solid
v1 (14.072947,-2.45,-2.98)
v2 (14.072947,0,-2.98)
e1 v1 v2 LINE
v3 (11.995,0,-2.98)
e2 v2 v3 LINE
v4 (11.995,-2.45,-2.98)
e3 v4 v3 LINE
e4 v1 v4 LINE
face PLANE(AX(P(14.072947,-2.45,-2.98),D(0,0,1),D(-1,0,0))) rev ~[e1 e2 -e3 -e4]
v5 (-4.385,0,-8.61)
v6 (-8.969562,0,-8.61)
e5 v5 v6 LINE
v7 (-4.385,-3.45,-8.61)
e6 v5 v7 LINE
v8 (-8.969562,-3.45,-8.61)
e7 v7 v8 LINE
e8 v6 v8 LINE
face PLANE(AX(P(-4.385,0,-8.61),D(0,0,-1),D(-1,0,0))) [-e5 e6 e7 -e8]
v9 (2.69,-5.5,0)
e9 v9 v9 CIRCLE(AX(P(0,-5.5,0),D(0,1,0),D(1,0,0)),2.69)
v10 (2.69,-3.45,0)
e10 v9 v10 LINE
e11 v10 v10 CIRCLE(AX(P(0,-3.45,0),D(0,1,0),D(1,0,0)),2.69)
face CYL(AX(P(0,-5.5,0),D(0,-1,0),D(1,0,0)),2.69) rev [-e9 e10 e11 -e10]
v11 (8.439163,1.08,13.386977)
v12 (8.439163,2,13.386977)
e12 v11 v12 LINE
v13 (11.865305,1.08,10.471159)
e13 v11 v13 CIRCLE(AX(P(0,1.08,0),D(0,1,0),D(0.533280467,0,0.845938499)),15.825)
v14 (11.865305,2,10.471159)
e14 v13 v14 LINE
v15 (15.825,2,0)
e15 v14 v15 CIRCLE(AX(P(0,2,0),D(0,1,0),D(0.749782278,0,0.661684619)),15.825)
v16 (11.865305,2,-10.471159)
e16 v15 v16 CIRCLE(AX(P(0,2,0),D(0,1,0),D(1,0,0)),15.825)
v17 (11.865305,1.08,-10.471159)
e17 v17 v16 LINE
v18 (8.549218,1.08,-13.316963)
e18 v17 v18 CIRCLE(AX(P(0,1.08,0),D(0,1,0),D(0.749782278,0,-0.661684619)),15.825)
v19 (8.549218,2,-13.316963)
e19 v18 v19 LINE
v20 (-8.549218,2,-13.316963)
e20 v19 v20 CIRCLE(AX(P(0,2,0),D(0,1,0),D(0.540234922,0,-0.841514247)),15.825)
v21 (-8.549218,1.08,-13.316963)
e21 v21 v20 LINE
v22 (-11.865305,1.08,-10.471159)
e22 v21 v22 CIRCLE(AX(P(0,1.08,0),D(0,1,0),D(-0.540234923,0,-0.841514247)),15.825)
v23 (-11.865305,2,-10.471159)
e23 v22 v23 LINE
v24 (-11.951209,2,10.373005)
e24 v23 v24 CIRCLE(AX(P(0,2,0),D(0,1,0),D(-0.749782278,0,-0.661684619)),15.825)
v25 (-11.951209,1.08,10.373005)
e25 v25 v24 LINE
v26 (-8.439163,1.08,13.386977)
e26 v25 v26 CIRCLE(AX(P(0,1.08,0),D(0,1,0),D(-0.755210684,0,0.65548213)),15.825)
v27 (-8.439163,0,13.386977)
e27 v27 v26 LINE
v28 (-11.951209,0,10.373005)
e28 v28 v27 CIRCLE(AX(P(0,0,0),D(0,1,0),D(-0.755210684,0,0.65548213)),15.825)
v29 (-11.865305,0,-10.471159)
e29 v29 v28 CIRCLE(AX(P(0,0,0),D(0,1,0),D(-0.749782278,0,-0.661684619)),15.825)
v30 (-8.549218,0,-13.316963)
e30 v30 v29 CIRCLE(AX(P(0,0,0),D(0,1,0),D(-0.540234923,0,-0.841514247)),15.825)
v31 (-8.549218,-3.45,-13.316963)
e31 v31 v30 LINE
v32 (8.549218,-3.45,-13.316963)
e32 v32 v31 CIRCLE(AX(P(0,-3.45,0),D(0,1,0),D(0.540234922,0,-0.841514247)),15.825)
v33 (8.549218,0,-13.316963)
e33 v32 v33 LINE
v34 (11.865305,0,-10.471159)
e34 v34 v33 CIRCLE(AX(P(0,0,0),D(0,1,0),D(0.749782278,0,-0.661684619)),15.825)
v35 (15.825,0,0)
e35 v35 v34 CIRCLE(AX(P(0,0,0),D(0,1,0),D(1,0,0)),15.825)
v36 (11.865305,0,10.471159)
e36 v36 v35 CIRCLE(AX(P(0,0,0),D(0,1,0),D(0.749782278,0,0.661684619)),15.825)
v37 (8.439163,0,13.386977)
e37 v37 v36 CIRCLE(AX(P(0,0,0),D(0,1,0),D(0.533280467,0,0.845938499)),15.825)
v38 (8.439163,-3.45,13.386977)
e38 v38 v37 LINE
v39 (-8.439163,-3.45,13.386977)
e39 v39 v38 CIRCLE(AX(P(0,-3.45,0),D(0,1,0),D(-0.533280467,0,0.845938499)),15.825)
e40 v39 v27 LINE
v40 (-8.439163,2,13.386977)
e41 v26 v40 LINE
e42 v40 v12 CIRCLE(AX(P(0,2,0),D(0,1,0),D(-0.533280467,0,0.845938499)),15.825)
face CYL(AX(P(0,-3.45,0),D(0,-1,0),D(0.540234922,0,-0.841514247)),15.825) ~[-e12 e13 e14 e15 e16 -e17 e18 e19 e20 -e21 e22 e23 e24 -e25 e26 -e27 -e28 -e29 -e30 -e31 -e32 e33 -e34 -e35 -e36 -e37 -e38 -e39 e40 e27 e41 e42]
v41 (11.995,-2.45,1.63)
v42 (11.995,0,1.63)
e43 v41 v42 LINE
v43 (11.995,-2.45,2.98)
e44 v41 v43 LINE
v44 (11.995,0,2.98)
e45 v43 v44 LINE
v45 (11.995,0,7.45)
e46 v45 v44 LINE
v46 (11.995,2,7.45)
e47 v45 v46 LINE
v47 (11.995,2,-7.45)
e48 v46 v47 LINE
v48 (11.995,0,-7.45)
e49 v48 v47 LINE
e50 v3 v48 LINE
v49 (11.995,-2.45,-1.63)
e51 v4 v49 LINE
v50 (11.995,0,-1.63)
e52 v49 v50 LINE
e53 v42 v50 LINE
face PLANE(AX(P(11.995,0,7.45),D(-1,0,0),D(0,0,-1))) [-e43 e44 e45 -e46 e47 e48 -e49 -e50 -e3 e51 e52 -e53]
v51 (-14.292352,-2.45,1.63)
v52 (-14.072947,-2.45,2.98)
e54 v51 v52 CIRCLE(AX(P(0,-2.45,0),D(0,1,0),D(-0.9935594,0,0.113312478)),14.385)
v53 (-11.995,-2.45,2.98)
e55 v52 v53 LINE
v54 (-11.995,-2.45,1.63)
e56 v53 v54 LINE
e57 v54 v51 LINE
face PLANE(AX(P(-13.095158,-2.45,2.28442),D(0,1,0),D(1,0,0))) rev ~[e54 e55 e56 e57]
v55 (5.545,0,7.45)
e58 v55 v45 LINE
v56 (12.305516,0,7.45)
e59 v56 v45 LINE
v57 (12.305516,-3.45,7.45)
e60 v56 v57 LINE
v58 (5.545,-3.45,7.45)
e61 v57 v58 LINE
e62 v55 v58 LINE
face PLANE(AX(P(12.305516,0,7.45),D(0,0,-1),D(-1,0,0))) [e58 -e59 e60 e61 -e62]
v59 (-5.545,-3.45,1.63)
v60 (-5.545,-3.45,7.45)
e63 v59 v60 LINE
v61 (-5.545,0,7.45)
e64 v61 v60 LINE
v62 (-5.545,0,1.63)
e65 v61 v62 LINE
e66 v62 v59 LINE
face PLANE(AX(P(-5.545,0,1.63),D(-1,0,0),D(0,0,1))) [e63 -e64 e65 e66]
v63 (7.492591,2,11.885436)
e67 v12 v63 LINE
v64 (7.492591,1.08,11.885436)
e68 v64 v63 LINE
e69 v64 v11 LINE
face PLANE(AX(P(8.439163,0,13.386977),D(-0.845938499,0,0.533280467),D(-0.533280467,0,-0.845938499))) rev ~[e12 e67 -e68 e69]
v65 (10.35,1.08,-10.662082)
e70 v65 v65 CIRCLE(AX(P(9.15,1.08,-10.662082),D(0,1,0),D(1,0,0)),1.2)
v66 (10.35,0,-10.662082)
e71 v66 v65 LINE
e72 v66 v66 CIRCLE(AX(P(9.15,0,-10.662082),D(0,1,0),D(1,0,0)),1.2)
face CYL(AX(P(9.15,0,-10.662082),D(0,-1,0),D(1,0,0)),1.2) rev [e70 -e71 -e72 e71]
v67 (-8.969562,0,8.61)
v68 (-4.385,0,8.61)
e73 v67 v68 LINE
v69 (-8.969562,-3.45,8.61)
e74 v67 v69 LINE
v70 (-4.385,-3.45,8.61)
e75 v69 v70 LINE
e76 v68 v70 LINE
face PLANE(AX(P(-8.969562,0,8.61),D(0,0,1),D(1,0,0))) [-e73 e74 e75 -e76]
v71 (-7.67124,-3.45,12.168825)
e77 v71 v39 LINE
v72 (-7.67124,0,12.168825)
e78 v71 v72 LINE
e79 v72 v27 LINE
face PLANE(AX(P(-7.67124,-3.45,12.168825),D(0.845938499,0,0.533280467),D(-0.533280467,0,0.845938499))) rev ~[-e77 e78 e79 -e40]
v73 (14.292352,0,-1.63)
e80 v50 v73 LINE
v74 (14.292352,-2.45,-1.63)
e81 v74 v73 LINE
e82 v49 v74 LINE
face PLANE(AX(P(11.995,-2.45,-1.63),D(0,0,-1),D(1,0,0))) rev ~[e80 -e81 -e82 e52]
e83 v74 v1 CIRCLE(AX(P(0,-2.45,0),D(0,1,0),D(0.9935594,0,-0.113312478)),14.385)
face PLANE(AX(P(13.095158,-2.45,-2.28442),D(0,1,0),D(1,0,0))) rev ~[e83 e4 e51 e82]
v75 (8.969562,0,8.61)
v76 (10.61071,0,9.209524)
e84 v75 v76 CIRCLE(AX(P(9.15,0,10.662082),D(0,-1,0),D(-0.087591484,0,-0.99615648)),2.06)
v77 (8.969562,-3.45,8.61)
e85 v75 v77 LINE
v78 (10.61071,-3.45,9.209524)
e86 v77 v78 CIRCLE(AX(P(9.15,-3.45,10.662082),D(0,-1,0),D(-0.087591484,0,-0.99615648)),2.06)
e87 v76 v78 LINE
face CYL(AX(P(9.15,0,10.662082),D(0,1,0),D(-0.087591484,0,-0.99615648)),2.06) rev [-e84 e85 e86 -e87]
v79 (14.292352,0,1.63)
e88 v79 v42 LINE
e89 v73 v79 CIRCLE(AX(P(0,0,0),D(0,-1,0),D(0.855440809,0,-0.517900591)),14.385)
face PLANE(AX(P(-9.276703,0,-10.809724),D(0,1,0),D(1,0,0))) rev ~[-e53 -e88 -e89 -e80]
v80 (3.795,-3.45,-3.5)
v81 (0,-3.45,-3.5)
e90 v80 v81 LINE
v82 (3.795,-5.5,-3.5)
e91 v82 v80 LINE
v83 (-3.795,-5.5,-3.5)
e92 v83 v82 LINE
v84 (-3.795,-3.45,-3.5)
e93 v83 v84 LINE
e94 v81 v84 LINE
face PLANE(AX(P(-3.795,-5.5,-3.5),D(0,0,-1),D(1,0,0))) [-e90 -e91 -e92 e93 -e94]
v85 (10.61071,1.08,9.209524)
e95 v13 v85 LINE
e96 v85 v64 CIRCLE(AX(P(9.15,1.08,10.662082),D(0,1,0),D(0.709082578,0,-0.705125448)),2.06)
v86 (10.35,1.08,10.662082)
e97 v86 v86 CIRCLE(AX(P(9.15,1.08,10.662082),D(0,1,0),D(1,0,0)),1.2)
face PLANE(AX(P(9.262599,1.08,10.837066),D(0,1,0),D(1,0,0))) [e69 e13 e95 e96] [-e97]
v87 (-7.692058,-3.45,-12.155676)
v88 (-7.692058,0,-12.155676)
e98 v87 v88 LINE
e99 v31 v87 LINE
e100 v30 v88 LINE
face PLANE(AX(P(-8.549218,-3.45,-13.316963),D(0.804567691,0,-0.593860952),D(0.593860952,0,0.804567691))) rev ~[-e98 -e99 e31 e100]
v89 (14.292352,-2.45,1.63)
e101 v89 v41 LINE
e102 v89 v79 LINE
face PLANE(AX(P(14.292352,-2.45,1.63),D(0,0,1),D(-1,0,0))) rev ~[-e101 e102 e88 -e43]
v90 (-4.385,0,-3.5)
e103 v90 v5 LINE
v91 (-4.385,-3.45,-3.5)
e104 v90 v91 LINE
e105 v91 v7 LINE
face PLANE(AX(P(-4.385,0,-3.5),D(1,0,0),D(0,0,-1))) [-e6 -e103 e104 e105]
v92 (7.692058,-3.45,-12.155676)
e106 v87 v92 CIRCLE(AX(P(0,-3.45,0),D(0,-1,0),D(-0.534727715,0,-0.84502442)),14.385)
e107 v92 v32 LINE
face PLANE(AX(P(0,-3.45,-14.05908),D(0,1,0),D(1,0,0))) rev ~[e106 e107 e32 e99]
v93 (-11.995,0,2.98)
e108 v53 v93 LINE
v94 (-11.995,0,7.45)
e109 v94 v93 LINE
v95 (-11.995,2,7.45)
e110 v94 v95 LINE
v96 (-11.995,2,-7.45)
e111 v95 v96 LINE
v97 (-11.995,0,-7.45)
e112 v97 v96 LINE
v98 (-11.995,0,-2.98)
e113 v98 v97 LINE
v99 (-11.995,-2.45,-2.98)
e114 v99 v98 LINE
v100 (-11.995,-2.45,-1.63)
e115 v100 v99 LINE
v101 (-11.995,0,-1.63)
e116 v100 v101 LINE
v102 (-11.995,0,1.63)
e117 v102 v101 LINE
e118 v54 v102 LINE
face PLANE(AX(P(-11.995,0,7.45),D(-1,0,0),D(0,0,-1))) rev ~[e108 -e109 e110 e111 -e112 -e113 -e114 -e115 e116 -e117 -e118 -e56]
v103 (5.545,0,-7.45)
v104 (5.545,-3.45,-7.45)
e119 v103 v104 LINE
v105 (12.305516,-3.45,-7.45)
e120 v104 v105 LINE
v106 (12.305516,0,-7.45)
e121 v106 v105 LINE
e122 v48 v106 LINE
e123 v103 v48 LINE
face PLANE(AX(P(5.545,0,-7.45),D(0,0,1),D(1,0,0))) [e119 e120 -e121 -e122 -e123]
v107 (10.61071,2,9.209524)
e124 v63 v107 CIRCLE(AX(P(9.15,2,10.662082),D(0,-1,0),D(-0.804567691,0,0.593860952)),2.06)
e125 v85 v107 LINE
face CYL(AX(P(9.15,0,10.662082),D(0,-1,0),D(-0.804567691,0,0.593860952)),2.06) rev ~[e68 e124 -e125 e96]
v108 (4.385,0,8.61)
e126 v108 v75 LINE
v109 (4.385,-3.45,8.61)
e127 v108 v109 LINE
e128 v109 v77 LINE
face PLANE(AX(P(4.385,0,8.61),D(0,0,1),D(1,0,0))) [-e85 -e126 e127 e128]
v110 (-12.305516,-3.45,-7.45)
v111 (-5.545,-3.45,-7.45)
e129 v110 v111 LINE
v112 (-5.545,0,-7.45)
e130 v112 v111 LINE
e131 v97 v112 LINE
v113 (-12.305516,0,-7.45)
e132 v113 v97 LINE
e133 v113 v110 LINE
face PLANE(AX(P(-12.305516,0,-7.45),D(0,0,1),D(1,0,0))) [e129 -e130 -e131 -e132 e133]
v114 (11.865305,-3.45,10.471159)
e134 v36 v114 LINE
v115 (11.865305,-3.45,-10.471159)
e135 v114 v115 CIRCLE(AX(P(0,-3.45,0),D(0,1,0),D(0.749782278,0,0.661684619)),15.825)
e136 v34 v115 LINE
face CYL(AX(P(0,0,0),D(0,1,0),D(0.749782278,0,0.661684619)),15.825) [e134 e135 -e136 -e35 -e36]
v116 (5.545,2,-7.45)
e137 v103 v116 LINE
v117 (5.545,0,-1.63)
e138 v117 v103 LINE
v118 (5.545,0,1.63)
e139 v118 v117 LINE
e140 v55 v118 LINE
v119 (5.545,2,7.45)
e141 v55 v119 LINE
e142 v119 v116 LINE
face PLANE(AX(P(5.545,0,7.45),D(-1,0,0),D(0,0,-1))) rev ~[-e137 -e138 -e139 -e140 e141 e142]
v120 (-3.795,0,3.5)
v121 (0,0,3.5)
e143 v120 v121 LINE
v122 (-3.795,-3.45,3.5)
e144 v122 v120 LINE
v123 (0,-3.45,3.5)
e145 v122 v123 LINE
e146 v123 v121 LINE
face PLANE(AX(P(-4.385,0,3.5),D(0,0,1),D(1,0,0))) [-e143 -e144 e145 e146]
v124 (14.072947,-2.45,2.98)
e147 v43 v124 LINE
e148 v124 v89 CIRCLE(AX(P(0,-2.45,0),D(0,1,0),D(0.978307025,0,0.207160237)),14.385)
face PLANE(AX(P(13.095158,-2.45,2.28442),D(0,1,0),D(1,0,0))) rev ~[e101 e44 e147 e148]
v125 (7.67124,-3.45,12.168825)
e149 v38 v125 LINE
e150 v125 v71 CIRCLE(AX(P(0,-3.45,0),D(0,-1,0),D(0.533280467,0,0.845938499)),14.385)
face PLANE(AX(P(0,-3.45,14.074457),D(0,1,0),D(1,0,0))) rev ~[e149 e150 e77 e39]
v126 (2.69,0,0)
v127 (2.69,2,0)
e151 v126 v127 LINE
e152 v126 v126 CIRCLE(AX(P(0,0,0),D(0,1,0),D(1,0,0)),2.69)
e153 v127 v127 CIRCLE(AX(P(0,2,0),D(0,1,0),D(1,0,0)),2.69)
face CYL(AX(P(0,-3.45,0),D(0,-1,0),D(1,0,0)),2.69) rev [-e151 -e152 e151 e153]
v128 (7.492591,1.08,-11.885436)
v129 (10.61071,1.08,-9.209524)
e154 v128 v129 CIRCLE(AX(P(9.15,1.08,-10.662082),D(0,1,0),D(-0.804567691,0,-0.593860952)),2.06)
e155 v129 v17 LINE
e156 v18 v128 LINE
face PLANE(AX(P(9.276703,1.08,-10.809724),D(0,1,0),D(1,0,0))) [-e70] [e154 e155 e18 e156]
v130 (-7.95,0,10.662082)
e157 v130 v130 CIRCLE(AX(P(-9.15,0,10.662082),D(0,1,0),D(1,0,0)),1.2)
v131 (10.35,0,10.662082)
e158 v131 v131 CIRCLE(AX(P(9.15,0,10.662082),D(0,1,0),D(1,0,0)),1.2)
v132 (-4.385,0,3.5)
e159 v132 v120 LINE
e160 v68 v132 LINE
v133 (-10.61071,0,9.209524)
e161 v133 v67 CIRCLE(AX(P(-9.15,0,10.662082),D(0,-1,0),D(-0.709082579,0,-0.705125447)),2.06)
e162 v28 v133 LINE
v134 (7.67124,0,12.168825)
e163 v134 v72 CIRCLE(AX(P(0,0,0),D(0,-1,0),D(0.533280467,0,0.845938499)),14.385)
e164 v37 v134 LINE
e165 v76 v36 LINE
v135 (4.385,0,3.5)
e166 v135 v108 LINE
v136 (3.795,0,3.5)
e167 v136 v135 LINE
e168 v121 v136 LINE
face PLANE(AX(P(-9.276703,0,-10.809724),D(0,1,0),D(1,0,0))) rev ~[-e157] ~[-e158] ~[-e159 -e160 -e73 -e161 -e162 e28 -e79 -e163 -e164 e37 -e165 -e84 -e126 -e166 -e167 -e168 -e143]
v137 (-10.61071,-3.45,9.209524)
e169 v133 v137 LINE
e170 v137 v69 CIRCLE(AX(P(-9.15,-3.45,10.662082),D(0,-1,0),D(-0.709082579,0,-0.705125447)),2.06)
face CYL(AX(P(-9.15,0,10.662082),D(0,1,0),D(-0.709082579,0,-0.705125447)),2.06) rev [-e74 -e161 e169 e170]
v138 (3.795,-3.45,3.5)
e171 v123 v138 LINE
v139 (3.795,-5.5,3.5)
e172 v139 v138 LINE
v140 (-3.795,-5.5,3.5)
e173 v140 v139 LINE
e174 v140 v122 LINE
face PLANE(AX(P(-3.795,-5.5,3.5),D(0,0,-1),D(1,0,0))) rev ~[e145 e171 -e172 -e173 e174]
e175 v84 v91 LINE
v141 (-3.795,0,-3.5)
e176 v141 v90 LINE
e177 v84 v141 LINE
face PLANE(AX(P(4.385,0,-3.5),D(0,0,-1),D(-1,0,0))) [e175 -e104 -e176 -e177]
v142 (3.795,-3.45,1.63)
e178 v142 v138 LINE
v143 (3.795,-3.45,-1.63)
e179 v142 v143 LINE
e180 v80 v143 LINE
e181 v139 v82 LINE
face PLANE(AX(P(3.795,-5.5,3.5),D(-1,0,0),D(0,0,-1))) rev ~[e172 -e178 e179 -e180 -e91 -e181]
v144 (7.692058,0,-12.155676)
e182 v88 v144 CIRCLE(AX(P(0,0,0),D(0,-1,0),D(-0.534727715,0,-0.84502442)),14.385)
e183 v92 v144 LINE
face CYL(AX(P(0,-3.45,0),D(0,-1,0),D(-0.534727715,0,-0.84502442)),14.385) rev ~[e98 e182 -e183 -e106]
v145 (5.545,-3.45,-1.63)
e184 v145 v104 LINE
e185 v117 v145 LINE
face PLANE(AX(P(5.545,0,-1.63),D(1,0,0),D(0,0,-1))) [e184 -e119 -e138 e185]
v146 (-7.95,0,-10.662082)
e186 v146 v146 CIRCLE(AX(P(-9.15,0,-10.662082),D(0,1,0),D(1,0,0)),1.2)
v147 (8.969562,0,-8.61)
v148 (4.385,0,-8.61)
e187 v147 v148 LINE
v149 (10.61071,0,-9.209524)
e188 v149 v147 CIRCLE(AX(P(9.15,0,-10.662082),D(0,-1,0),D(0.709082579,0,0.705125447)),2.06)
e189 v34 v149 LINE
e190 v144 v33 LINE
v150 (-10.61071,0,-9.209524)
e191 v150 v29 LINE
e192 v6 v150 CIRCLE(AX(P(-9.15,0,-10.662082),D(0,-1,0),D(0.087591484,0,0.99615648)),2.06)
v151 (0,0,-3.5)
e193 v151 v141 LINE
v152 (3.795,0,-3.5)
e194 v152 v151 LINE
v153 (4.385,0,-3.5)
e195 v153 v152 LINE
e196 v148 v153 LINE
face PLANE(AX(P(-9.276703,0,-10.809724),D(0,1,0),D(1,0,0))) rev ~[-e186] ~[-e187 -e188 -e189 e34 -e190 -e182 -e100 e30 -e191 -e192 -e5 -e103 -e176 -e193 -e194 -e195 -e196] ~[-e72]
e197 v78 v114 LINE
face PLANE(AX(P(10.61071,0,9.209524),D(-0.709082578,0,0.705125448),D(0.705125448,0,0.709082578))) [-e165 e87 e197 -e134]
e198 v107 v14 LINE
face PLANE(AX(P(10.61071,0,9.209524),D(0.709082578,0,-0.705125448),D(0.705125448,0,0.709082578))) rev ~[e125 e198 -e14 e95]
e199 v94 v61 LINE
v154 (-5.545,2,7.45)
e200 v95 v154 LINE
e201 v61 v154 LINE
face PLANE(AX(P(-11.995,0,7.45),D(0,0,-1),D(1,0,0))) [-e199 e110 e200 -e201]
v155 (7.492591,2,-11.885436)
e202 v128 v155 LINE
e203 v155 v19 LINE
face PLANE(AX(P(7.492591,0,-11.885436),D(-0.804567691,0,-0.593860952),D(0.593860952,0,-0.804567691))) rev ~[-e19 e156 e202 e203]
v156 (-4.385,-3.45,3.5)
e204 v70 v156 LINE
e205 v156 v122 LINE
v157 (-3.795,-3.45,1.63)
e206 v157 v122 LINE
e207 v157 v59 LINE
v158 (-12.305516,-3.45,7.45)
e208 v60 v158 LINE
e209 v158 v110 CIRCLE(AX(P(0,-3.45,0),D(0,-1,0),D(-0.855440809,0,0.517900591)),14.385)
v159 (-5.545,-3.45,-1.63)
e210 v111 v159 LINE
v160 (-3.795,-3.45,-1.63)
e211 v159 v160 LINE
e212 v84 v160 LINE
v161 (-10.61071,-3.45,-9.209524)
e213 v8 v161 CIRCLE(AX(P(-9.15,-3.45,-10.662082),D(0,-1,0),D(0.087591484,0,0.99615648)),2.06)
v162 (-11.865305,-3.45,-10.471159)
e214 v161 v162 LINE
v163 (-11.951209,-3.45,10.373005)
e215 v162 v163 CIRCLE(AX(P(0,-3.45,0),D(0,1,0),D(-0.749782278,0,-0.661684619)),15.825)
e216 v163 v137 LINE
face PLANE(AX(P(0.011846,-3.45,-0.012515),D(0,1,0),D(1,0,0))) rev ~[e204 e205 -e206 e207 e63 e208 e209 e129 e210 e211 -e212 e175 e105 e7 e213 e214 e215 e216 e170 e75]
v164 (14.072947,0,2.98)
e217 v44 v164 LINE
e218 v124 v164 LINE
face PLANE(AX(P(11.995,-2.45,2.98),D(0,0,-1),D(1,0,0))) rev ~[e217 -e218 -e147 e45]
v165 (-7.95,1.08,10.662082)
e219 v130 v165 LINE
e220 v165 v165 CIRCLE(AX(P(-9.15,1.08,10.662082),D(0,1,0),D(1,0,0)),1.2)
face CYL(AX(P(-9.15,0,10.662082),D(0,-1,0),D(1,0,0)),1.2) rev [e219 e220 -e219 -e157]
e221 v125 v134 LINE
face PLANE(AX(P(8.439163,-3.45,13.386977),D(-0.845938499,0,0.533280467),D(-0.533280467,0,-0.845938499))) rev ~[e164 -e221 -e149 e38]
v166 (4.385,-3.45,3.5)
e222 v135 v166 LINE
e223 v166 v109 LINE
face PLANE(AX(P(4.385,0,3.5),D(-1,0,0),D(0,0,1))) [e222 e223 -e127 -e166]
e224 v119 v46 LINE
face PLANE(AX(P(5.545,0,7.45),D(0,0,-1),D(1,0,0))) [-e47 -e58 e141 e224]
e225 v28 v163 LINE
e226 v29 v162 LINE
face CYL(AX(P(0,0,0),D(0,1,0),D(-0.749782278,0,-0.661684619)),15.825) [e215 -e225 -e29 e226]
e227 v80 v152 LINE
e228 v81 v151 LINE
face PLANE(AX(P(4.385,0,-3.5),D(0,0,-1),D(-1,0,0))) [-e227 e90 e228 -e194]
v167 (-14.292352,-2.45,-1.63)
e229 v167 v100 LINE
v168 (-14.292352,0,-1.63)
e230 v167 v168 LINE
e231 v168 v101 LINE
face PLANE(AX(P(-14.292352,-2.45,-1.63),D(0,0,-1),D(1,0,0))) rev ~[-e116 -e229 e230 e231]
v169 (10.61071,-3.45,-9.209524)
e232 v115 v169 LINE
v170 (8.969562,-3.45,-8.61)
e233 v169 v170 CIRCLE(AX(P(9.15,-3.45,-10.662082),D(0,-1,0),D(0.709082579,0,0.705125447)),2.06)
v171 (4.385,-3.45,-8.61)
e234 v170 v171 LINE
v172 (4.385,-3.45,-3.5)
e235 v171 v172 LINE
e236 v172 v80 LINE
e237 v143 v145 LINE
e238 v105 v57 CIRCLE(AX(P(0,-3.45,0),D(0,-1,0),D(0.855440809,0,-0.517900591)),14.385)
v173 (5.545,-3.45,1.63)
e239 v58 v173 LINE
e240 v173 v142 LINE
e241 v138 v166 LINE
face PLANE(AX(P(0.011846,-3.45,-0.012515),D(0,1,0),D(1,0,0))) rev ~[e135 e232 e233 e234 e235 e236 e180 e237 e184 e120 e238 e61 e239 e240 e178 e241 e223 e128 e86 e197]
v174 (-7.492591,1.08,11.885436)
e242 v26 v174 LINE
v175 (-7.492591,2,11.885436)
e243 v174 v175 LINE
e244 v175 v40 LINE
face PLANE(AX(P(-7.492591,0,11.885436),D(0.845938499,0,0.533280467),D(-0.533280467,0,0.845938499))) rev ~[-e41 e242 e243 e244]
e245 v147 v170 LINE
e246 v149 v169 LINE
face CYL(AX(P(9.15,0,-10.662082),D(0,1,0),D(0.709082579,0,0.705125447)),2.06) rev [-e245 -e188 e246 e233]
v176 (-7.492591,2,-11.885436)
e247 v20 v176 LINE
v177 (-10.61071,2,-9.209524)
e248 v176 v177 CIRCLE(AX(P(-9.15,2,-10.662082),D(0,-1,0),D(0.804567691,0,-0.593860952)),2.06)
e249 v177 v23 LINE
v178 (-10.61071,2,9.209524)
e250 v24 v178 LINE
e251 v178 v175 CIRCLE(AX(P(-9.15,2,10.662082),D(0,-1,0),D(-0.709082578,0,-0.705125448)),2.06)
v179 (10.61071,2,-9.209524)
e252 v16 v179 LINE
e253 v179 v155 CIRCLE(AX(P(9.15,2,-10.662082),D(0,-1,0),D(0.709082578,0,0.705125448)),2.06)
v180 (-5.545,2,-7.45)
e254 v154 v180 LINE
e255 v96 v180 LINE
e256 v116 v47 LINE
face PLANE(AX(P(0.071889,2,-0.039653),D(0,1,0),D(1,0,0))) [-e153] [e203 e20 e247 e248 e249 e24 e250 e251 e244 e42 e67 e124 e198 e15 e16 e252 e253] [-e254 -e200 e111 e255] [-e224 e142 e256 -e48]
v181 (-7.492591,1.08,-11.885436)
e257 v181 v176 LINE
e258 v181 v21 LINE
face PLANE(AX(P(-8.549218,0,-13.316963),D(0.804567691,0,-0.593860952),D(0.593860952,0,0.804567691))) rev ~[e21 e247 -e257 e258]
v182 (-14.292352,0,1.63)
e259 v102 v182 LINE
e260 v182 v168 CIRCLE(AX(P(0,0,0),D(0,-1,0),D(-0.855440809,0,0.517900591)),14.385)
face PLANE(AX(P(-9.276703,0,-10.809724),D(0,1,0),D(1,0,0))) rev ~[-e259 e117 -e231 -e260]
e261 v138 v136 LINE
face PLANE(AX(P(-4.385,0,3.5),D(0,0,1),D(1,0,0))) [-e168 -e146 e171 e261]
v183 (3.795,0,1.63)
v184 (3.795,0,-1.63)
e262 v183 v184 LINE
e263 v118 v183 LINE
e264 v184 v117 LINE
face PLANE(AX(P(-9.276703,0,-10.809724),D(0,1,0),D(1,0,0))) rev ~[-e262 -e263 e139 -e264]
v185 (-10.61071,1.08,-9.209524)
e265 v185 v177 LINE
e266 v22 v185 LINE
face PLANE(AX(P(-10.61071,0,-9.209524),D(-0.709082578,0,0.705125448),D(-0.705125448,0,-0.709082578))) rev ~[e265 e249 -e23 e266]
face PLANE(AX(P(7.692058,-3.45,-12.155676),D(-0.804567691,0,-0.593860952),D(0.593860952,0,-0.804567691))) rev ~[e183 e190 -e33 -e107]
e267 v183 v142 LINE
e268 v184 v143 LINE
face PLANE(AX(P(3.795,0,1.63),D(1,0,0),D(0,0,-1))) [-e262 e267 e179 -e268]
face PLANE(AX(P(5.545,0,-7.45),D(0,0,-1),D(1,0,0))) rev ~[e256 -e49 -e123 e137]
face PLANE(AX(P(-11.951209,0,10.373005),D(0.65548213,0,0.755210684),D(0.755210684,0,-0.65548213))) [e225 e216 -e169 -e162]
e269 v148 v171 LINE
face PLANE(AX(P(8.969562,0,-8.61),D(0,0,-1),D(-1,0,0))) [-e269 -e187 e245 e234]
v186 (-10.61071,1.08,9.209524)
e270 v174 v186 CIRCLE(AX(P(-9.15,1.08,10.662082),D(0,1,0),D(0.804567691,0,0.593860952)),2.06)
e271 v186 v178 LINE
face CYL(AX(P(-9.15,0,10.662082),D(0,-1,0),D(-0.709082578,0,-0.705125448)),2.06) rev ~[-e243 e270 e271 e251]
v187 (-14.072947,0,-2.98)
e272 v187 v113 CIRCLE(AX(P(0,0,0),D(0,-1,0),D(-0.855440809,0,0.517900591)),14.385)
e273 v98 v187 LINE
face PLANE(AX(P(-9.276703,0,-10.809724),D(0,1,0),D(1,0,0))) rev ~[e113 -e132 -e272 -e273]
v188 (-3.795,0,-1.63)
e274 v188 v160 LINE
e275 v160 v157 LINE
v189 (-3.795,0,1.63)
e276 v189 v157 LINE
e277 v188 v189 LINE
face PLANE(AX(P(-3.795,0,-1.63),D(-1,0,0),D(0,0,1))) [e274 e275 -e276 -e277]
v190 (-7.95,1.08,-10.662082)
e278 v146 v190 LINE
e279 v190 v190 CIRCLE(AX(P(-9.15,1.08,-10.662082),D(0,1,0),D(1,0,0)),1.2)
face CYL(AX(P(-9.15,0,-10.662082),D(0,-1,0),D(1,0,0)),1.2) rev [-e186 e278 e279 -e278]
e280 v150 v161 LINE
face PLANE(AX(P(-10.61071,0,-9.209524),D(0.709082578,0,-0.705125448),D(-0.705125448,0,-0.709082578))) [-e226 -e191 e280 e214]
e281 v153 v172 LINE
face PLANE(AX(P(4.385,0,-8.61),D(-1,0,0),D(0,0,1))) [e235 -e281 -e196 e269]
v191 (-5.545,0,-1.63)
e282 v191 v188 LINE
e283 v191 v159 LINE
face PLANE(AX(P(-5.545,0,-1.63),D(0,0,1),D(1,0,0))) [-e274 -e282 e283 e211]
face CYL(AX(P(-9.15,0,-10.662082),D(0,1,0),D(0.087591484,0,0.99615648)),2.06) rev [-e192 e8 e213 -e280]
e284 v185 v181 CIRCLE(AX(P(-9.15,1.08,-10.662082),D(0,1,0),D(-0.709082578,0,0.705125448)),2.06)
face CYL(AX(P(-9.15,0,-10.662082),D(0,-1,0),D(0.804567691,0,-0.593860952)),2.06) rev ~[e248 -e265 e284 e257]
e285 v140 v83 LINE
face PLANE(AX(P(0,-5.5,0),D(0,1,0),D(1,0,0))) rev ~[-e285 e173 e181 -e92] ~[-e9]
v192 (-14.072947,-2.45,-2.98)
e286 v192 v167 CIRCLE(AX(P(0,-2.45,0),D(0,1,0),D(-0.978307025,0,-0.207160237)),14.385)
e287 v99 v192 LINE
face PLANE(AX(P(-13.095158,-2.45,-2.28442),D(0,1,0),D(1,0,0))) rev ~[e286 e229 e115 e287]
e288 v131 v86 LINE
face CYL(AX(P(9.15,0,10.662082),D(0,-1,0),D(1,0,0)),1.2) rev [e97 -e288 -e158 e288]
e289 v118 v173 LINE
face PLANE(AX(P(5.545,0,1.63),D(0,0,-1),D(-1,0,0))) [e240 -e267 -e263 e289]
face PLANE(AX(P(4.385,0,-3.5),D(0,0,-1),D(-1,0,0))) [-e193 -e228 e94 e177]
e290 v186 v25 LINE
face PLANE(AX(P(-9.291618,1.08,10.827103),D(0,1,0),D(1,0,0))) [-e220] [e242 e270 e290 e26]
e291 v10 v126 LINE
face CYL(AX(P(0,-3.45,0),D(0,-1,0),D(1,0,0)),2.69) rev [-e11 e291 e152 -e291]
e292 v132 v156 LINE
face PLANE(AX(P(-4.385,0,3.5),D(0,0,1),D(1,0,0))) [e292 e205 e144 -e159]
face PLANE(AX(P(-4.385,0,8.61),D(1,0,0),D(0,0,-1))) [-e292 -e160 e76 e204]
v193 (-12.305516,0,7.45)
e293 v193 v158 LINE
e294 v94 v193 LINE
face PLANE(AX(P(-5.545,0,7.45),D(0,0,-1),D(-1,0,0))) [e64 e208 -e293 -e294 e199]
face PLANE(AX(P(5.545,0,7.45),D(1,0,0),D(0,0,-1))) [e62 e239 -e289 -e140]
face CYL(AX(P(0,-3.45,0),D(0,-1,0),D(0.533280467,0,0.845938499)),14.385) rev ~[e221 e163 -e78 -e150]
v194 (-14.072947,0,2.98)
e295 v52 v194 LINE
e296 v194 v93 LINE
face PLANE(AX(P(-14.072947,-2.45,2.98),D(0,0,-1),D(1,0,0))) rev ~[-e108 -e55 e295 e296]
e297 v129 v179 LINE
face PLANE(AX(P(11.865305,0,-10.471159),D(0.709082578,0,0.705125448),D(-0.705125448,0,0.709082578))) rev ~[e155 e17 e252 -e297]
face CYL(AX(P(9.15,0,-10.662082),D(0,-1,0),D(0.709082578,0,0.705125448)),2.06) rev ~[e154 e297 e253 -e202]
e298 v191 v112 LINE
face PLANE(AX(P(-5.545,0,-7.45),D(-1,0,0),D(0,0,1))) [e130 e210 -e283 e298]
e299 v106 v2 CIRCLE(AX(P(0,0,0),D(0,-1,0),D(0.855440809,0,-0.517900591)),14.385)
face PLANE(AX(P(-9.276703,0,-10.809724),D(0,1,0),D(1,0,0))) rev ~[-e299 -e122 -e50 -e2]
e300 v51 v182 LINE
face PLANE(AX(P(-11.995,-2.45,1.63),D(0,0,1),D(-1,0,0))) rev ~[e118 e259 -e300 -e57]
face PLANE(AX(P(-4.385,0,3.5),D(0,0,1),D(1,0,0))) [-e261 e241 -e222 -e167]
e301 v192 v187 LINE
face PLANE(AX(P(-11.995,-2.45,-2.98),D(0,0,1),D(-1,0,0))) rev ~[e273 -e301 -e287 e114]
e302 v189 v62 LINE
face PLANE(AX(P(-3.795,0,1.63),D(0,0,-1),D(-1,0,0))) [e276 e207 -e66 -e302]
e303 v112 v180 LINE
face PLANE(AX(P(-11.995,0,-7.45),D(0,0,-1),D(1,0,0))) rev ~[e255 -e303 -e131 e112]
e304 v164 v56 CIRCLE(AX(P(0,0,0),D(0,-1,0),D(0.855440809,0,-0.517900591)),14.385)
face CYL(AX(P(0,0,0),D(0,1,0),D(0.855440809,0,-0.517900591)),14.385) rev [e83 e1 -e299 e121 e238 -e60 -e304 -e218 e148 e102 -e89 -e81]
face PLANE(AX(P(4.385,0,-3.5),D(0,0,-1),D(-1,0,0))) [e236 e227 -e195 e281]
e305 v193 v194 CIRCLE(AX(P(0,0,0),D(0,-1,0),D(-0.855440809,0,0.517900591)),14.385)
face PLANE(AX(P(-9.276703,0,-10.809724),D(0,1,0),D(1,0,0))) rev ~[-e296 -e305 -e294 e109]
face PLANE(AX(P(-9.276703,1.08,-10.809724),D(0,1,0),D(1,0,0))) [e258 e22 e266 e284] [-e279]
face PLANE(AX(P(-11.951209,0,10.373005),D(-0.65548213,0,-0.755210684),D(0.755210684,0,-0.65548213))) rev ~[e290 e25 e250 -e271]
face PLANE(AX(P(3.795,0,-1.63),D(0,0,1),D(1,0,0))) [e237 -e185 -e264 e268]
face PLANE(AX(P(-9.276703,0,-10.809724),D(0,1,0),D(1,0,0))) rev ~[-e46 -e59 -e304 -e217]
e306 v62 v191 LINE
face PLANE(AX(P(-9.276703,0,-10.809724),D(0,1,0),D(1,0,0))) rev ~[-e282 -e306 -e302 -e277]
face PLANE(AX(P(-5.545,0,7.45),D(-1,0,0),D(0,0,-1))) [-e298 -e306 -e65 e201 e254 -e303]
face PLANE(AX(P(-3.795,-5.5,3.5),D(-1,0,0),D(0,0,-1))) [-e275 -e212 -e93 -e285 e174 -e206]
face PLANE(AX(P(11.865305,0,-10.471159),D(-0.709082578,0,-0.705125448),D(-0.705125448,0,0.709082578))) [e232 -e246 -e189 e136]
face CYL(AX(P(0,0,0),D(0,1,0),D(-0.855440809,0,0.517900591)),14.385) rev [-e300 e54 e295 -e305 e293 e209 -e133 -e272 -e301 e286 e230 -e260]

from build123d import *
from build123d.topology import SkipClean

# Parameters (mm, degrees)
SKETCH1_W           = 6.45
SKETCH1_H           = 14.9
SKETCH1_R           = 2.69
BOSS_EXTRUDE1_DEPTH = 2
SKETCH1_4_R         = 1.2
BOSS_EXTRUDE2_DEPTH = 1.08
SKETCH2_R           = 2.69
BOSS_EXTRUDE3_DEPTH = 3.45
BOSS_EXTRUDE4_START = -3.45
BOSS_EXTRUDE4_DEPTH = 3.45
BOSS_EXTRUDE5_START = -2.45
BOSS_EXTRUDE5_DEPTH = 2.45
BOSS_EXTRUDE6_START = -3.45
SKETCH2_5_R         = 2.69
BOSS_EXTRUDE6_DEPTH = 3.45
BOSS_EXTRUDE7_START = -5.5
SKETCH2_6_W         = 7.59
SKETCH2_6_H         = 7
SKETCH2_6_R         = 2.69
BOSS_EXTRUDE7_DEPTH = 5.5


with BuildPart() as part:
    # Sketch1 → Boss-Extrude1 (new body)
    with BuildSketch(Plane(origin=(0, 0, 0), x_dir=(1, 0, 0), z_dir=(0, 1, 0))):
        with BuildLine():
            ThreePointArc((-7.492590556, 11.885435909), (-7.808434164, 9.098816182), (-10.610710111, 9.209523926))
            Line((-10.610710111, 9.209523926), (-11.865304556, 10.471159095))
            ThreePointArc((-11.865304556, 10.471159095), (-15.824865609, 0.065218614), (-11.951209075, -10.373004706))
            Line((-11.951209075, -10.373004706), (-10.610710111, -9.209523926))
            ThreePointArc((-10.610710111, -9.209523926), (-7.808434164, -9.098816182), (-7.492590556, -11.885435909))
            Line((-7.492590556, -11.885435909), (-8.439163385, -13.386976745))
            ThreePointArc((-8.439163385, -13.386976745), (0, -15.825), (8.439163385, -13.386976745))
            Line((8.439163385, -13.386976745), (7.492590556, -11.885435909))
            ThreePointArc((7.492590556, -11.885435909), (7.808434164, -9.098816182), (10.610710111, -9.209523926))
            Line((10.610710111, -9.209523926), (11.865304556, -10.471159095))
            ThreePointArc((11.865304556, -10.471159095), (14.802011174, -5.597418173), (15.825, 0))
            ThreePointArc((15.825, 0), (14.802011174, 5.597418173), (11.865304556, 10.471159095))
            Line((11.865304556, 10.471159095), (10.610710111, 9.209523926))
            ThreePointArc((10.610710111, 9.209523926), (7.808434164, 9.098816182), (7.492590556, 11.885435909))
            Line((7.492590556, 11.885435909), (8.549217648, 13.316962965))
            ThreePointArc((8.549217648, 13.316962965), (0, 15.825), (-8.549217648, 13.316962965))
            Line((-8.549217648, 13.316962965), (-7.492590556, 11.885435909))
        make_face()
        with Locations((-8.77, 0)):
            Rectangle(SKETCH1_W, SKETCH1_H, mode=Mode.SUBTRACT)
        Circle(SKETCH1_R, mode=Mode.SUBTRACT)
        with Locations((8.77, 0)):
            Rectangle(SKETCH1_W, SKETCH1_H, mode=Mode.SUBTRACT)
    extrude(amount=BOSS_EXTRUDE1_DEPTH)

    # Sketch1<4> → Boss-Extrude2 (add)
    # profile 1 of 4: a face of its own
    with BuildSketch(Plane(origin=(0, 0, 0), x_dir=(1, 0, 0), z_dir=(0, 1, 0))):
        with BuildLine():
            Line((-11.865304556, 10.471159095), (-10.610710111, 9.209523926))
            ThreePointArc((-10.610710111, 9.209523926), (-7.808434164, 9.098816182), (-7.492590556, 11.885435909))
            Line((-7.492590556, 11.885435909), (-8.549217648, 13.316962965))
            ThreePointArc((-8.549217648, 13.316962965), (-10.305960854, 12.009071399), (-11.865304556, 10.471159095))
        make_face()
        with Locations((-9.15, 10.662082348)):
            Circle(SKETCH1_4_R, mode=Mode.SUBTRACT)
    # profile 2 of 4: a face of its own
    with BuildSketch(Plane(origin=(0, 0, 0), x_dir=(1, 0, 0), z_dir=(0, 1, 0))):
        with BuildLine():
            Line((-10.610710111, -9.209523926), (-11.951209075, -10.373004706))
            ThreePointArc((-11.951209075, -10.373004706), (-10.305960854, -12.009071399), (-8.439163385, -13.386976745))
            Line((-8.439163385, -13.386976745), (-7.492590556, -11.885435909))
            ThreePointArc((-7.492590556, -11.885435909), (-7.808434164, -9.098816182), (-10.610710111, -9.209523926))
        make_face()
        with Locations((-9.15, -10.662082348)):
            Circle(SKETCH1_4_R, mode=Mode.SUBTRACT)
    # profile 3 of 4: a face of its own
    with BuildSketch(Plane(origin=(0, 0, 0), x_dir=(1, 0, 0), z_dir=(0, 1, 0))):
        with BuildLine():
            ThreePointArc((11.865304556, 10.471159095), (10.305960854, 12.009071399), (8.549217648, 13.316962965))
            Line((8.549217648, 13.316962965), (7.492590556, 11.885435909))
            ThreePointArc((7.492590556, 11.885435909), (7.808434164, 9.098816182), (10.610710111, 9.209523926))
            Line((10.610710111, 9.209523926), (11.865304556, 10.471159095))
        make_face()
        with Locations((9.15, 10.662082348)):
            Circle(SKETCH1_4_R, mode=Mode.SUBTRACT)
    # profile 4 of 4: a face of its own
    with BuildSketch(Plane(origin=(0, 0, 0), x_dir=(1, 0, 0), z_dir=(0, 1, 0))):
        with BuildLine():
            Line((7.492590556, -11.885435909), (8.439163385, -13.386976745))
            ThreePointArc((8.439163385, -13.386976745), (10.256381074, -12.051442746), (11.865304556, -10.471159095))
            Line((11.865304556, -10.471159095), (10.610710111, -9.209523926))
            ThreePointArc((10.610710111, -9.209523926), (7.808434164, -9.098816182), (7.492590556, -11.885435909))
        make_face()
        with Locations((9.15, -10.662082348)):
            Circle(SKETCH1_4_R, mode=Mode.SUBTRACT)
    extrude(amount=BOSS_EXTRUDE2_DEPTH)

    # Sketch2<3> → Boss-Extrude4 (add)
    with BuildSketch(Plane(origin=(0, 0, 0), x_dir=(1, 0, 0), z_dir=(0, 1, 0)).offset(BOSS_EXTRUDE4_START)):
        with BuildLine():
            Line((-8.549217648, 13.316962965), (-7.692058181, 12.155676285))
            ThreePointArc((-7.692058181, 12.155676285), (0, 14.385), (7.692058181, 12.155676285))
            Line((7.692058181, 12.155676285), (8.549217648, 13.316962965))
            ThreePointArc((8.549217648, 13.316962965), (0, 15.825), (-8.549217648, 13.316962965))
        make_face()
        with BuildLine():
            ThreePointArc((7.671239513, -12.168825307), (0, -14.385), (-7.671239513, -12.168825307))
            Line((-7.671239513, -12.168825307), (-8.439163385, -13.386976745))
            ThreePointArc((-8.439163385, -13.386976745), (0, -15.825), (8.439163385, -13.386976745))
            Line((8.439163385, -13.386976745), (7.671239513, -12.168825307))
        make_face()
    extrude(amount=BOSS_EXTRUDE4_DEPTH)

    # Sketch2<4> → Boss-Extrude5 (add)
    with BuildSketch(Plane(origin=(0, 0, 0), x_dir=(1, 0, 0), z_dir=(0, 1, 0)).offset(BOSS_EXTRUDE5_START)):
        with BuildLine():
            Line((-11.995, 1.63), (-11.995, 2.98))
            Line((-11.995, 2.98), (-14.072946564, 2.98))
            ThreePointArc((-14.072946564, 2.98), (-14.198702945, 2.307609084), (-14.292351976, 1.63))
            Line((-14.292351976, 1.63), (-11.995, 1.63))
        make_face()
        with BuildLine():
            Line((-11.995, -2.98), (-11.995, -1.63))
            Line((-11.995, -1.63), (-14.292351976, -1.63))
            ThreePointArc((-14.292351976, -1.63), (-14.198702945, -2.307609084), (-14.072946564, -2.98))
            Line((-14.072946564, -2.98), (-11.995, -2.98))
        make_face()
        with BuildLine():
            ThreePointArc((14.292351976, 1.63), (14.198702945, 2.307609084), (14.072946564, 2.98))
            Line((14.072946564, 2.98), (11.995, 2.98))
            Line((11.995, 2.98), (11.995, 1.63))
            Line((11.995, 1.63), (14.292351976, 1.63))
        make_face()
        with BuildLine():
            Line((11.995, -2.98), (14.072946564, -2.98))
            ThreePointArc((14.072946564, -2.98), (14.198702945, -2.307609084), (14.292351976, -1.63))
            Line((14.292351976, -1.63), (11.995, -1.63))
            Line((11.995, -1.63), (11.995, -2.98))
        make_face()
    extrude(amount=BOSS_EXTRUDE5_DEPTH)

    # Sketch2<5> → Boss-Extrude6 (add)
    with BuildSketch(Plane(origin=(0, 0, 0), x_dir=(1, 0, 0), z_dir=(0, 1, 0)).offset(BOSS_EXTRUDE6_START)):
        with BuildLine():
            ThreePointArc((3.5, 0), (2.474873734, 2.474873734), (0, 3.5))
            ThreePointArc((0, 3.5), (-3.5, 0), (0, -3.5))
            ThreePointArc((0, -3.5), (2.474873734, -2.474873734), (3.5, 0))
        make_face()
        Circle(SKETCH2_5_R, mode=Mode.SUBTRACT)
    extrude(amount=BOSS_EXTRUDE6_DEPTH)



with BuildPart() as body_2:
    # Sketch2 → Boss-Extrude3 (new body)
    with BuildSketch(Plane(origin=(0, 0, 0), x_dir=(1, 0, 0), z_dir=(0, 1, 0))):
        with BuildLine():
            Line((-4.385, -3.5), (4.385, -3.5))
            Line((4.385, -3.5), (4.385, -8.61))
            Line((4.385, -8.61), (8.969561545, -8.61))
            ThreePointArc((8.969561545, -8.61), (9.85684589, -8.727148528), (10.610710111, -9.209523926))
            Line((10.610710111, -9.209523926), (11.865304556, -10.471159095))
            ThreePointArc((11.865304556, -10.471159095), (15.825, 0), (11.865304556, 10.471159095))
            Line((11.865304556, 10.471159095), (10.610710111, 9.209523926))
            ThreePointArc((10.610710111, 9.209523926), (9.85684589, 8.727148528), (8.969561545, 8.61))
            Line((8.969561545, 8.61), (4.385, 8.61))
            Line((4.385, 8.61), (4.385, 3.5))
            Line((4.385, 3.5), (-4.385, 3.5))
            Line((-4.385, 3.5), (-4.385, 8.61))
            Line((-4.385, 8.61), (-8.969561545, 8.61))
            ThreePointArc((-8.969561545, 8.61), (-9.85684589, 8.727148528), (-10.610710111, 9.209523926))
            Line((-10.610710111, 9.209523926), (-11.865304556, 10.471159095))
            ThreePointArc((-11.865304556, 10.471159095), (-15.824865609, 0.065218614), (-11.951209075, -10.373004706))
            Line((-11.951209075, -10.373004706), (-10.610710111, -9.209523926))
            ThreePointArc((-10.610710111, -9.209523926), (-9.85684589, -8.727148528), (-8.969561545, -8.61))
            Line((-8.969561545, -8.61), (-4.385, -8.61))
            Line((-4.385, -8.61), (-4.385, -3.5))
        make_face()
        with BuildLine():
            Line((-5.545, 7.45), (-5.545, 1.63))
            Line((-5.545, 1.63), (-3.795, 1.63))
            Line((-3.795, 1.63), (-3.795, -1.63))
            Line((-3.795, -1.63), (-5.545, -1.63))
            Line((-5.545, -1.63), (-5.545, -7.45))
            Line((-5.545, -7.45), (-12.30551604, -7.45))
            ThreePointArc((-12.30551604, -7.45), (-14.385, 0), (-12.30551604, 7.45))
            Line((-12.30551604, 7.45), (-5.545, 7.45))
        make_face(mode=Mode.SUBTRACT)
        Circle(SKETCH2_R, mode=Mode.SUBTRACT)
        with BuildLine():
            Line((3.795, -1.63), (3.795, 1.63))
            Line((3.795, 1.63), (5.545, 1.63))
            Line((5.545, 1.63), (5.545, 7.45))
            Line((5.545, 7.45), (12.30551604, 7.45))
            ThreePointArc((12.30551604, 7.45), (14.385, 0), (12.30551604, -7.45))
            Line((12.30551604, -7.45), (5.545, -7.45))
            Line((5.545, -7.45), (5.545, -1.63))
            Line((5.545, -1.63), (3.795, -1.63))
        make_face(mode=Mode.SUBTRACT)
    extrude(amount=-BOSS_EXTRUDE3_DEPTH)


with BuildPart() as part_1:
    with SkipClean():  # the faces are left unmerged after this step: merging them gives an invalid solid
        add(part.part)

        add(body_2.part)  # Boss-Extrude7 merges body 2
        # Sketch2<6> → Boss-Extrude7 (add)
        with BuildSketch(Plane(origin=(0, 0, 0), x_dir=(1, 0, 0), z_dir=(0, 1, 0)).offset(BOSS_EXTRUDE7_START)):
            Rectangle(SKETCH2_6_W, SKETCH2_6_H)
            Circle(SKETCH2_6_R, mode=Mode.SUBTRACT)
        extrude(amount=BOSS_EXTRUDE7_DEPTH)


solid = part_1.part
